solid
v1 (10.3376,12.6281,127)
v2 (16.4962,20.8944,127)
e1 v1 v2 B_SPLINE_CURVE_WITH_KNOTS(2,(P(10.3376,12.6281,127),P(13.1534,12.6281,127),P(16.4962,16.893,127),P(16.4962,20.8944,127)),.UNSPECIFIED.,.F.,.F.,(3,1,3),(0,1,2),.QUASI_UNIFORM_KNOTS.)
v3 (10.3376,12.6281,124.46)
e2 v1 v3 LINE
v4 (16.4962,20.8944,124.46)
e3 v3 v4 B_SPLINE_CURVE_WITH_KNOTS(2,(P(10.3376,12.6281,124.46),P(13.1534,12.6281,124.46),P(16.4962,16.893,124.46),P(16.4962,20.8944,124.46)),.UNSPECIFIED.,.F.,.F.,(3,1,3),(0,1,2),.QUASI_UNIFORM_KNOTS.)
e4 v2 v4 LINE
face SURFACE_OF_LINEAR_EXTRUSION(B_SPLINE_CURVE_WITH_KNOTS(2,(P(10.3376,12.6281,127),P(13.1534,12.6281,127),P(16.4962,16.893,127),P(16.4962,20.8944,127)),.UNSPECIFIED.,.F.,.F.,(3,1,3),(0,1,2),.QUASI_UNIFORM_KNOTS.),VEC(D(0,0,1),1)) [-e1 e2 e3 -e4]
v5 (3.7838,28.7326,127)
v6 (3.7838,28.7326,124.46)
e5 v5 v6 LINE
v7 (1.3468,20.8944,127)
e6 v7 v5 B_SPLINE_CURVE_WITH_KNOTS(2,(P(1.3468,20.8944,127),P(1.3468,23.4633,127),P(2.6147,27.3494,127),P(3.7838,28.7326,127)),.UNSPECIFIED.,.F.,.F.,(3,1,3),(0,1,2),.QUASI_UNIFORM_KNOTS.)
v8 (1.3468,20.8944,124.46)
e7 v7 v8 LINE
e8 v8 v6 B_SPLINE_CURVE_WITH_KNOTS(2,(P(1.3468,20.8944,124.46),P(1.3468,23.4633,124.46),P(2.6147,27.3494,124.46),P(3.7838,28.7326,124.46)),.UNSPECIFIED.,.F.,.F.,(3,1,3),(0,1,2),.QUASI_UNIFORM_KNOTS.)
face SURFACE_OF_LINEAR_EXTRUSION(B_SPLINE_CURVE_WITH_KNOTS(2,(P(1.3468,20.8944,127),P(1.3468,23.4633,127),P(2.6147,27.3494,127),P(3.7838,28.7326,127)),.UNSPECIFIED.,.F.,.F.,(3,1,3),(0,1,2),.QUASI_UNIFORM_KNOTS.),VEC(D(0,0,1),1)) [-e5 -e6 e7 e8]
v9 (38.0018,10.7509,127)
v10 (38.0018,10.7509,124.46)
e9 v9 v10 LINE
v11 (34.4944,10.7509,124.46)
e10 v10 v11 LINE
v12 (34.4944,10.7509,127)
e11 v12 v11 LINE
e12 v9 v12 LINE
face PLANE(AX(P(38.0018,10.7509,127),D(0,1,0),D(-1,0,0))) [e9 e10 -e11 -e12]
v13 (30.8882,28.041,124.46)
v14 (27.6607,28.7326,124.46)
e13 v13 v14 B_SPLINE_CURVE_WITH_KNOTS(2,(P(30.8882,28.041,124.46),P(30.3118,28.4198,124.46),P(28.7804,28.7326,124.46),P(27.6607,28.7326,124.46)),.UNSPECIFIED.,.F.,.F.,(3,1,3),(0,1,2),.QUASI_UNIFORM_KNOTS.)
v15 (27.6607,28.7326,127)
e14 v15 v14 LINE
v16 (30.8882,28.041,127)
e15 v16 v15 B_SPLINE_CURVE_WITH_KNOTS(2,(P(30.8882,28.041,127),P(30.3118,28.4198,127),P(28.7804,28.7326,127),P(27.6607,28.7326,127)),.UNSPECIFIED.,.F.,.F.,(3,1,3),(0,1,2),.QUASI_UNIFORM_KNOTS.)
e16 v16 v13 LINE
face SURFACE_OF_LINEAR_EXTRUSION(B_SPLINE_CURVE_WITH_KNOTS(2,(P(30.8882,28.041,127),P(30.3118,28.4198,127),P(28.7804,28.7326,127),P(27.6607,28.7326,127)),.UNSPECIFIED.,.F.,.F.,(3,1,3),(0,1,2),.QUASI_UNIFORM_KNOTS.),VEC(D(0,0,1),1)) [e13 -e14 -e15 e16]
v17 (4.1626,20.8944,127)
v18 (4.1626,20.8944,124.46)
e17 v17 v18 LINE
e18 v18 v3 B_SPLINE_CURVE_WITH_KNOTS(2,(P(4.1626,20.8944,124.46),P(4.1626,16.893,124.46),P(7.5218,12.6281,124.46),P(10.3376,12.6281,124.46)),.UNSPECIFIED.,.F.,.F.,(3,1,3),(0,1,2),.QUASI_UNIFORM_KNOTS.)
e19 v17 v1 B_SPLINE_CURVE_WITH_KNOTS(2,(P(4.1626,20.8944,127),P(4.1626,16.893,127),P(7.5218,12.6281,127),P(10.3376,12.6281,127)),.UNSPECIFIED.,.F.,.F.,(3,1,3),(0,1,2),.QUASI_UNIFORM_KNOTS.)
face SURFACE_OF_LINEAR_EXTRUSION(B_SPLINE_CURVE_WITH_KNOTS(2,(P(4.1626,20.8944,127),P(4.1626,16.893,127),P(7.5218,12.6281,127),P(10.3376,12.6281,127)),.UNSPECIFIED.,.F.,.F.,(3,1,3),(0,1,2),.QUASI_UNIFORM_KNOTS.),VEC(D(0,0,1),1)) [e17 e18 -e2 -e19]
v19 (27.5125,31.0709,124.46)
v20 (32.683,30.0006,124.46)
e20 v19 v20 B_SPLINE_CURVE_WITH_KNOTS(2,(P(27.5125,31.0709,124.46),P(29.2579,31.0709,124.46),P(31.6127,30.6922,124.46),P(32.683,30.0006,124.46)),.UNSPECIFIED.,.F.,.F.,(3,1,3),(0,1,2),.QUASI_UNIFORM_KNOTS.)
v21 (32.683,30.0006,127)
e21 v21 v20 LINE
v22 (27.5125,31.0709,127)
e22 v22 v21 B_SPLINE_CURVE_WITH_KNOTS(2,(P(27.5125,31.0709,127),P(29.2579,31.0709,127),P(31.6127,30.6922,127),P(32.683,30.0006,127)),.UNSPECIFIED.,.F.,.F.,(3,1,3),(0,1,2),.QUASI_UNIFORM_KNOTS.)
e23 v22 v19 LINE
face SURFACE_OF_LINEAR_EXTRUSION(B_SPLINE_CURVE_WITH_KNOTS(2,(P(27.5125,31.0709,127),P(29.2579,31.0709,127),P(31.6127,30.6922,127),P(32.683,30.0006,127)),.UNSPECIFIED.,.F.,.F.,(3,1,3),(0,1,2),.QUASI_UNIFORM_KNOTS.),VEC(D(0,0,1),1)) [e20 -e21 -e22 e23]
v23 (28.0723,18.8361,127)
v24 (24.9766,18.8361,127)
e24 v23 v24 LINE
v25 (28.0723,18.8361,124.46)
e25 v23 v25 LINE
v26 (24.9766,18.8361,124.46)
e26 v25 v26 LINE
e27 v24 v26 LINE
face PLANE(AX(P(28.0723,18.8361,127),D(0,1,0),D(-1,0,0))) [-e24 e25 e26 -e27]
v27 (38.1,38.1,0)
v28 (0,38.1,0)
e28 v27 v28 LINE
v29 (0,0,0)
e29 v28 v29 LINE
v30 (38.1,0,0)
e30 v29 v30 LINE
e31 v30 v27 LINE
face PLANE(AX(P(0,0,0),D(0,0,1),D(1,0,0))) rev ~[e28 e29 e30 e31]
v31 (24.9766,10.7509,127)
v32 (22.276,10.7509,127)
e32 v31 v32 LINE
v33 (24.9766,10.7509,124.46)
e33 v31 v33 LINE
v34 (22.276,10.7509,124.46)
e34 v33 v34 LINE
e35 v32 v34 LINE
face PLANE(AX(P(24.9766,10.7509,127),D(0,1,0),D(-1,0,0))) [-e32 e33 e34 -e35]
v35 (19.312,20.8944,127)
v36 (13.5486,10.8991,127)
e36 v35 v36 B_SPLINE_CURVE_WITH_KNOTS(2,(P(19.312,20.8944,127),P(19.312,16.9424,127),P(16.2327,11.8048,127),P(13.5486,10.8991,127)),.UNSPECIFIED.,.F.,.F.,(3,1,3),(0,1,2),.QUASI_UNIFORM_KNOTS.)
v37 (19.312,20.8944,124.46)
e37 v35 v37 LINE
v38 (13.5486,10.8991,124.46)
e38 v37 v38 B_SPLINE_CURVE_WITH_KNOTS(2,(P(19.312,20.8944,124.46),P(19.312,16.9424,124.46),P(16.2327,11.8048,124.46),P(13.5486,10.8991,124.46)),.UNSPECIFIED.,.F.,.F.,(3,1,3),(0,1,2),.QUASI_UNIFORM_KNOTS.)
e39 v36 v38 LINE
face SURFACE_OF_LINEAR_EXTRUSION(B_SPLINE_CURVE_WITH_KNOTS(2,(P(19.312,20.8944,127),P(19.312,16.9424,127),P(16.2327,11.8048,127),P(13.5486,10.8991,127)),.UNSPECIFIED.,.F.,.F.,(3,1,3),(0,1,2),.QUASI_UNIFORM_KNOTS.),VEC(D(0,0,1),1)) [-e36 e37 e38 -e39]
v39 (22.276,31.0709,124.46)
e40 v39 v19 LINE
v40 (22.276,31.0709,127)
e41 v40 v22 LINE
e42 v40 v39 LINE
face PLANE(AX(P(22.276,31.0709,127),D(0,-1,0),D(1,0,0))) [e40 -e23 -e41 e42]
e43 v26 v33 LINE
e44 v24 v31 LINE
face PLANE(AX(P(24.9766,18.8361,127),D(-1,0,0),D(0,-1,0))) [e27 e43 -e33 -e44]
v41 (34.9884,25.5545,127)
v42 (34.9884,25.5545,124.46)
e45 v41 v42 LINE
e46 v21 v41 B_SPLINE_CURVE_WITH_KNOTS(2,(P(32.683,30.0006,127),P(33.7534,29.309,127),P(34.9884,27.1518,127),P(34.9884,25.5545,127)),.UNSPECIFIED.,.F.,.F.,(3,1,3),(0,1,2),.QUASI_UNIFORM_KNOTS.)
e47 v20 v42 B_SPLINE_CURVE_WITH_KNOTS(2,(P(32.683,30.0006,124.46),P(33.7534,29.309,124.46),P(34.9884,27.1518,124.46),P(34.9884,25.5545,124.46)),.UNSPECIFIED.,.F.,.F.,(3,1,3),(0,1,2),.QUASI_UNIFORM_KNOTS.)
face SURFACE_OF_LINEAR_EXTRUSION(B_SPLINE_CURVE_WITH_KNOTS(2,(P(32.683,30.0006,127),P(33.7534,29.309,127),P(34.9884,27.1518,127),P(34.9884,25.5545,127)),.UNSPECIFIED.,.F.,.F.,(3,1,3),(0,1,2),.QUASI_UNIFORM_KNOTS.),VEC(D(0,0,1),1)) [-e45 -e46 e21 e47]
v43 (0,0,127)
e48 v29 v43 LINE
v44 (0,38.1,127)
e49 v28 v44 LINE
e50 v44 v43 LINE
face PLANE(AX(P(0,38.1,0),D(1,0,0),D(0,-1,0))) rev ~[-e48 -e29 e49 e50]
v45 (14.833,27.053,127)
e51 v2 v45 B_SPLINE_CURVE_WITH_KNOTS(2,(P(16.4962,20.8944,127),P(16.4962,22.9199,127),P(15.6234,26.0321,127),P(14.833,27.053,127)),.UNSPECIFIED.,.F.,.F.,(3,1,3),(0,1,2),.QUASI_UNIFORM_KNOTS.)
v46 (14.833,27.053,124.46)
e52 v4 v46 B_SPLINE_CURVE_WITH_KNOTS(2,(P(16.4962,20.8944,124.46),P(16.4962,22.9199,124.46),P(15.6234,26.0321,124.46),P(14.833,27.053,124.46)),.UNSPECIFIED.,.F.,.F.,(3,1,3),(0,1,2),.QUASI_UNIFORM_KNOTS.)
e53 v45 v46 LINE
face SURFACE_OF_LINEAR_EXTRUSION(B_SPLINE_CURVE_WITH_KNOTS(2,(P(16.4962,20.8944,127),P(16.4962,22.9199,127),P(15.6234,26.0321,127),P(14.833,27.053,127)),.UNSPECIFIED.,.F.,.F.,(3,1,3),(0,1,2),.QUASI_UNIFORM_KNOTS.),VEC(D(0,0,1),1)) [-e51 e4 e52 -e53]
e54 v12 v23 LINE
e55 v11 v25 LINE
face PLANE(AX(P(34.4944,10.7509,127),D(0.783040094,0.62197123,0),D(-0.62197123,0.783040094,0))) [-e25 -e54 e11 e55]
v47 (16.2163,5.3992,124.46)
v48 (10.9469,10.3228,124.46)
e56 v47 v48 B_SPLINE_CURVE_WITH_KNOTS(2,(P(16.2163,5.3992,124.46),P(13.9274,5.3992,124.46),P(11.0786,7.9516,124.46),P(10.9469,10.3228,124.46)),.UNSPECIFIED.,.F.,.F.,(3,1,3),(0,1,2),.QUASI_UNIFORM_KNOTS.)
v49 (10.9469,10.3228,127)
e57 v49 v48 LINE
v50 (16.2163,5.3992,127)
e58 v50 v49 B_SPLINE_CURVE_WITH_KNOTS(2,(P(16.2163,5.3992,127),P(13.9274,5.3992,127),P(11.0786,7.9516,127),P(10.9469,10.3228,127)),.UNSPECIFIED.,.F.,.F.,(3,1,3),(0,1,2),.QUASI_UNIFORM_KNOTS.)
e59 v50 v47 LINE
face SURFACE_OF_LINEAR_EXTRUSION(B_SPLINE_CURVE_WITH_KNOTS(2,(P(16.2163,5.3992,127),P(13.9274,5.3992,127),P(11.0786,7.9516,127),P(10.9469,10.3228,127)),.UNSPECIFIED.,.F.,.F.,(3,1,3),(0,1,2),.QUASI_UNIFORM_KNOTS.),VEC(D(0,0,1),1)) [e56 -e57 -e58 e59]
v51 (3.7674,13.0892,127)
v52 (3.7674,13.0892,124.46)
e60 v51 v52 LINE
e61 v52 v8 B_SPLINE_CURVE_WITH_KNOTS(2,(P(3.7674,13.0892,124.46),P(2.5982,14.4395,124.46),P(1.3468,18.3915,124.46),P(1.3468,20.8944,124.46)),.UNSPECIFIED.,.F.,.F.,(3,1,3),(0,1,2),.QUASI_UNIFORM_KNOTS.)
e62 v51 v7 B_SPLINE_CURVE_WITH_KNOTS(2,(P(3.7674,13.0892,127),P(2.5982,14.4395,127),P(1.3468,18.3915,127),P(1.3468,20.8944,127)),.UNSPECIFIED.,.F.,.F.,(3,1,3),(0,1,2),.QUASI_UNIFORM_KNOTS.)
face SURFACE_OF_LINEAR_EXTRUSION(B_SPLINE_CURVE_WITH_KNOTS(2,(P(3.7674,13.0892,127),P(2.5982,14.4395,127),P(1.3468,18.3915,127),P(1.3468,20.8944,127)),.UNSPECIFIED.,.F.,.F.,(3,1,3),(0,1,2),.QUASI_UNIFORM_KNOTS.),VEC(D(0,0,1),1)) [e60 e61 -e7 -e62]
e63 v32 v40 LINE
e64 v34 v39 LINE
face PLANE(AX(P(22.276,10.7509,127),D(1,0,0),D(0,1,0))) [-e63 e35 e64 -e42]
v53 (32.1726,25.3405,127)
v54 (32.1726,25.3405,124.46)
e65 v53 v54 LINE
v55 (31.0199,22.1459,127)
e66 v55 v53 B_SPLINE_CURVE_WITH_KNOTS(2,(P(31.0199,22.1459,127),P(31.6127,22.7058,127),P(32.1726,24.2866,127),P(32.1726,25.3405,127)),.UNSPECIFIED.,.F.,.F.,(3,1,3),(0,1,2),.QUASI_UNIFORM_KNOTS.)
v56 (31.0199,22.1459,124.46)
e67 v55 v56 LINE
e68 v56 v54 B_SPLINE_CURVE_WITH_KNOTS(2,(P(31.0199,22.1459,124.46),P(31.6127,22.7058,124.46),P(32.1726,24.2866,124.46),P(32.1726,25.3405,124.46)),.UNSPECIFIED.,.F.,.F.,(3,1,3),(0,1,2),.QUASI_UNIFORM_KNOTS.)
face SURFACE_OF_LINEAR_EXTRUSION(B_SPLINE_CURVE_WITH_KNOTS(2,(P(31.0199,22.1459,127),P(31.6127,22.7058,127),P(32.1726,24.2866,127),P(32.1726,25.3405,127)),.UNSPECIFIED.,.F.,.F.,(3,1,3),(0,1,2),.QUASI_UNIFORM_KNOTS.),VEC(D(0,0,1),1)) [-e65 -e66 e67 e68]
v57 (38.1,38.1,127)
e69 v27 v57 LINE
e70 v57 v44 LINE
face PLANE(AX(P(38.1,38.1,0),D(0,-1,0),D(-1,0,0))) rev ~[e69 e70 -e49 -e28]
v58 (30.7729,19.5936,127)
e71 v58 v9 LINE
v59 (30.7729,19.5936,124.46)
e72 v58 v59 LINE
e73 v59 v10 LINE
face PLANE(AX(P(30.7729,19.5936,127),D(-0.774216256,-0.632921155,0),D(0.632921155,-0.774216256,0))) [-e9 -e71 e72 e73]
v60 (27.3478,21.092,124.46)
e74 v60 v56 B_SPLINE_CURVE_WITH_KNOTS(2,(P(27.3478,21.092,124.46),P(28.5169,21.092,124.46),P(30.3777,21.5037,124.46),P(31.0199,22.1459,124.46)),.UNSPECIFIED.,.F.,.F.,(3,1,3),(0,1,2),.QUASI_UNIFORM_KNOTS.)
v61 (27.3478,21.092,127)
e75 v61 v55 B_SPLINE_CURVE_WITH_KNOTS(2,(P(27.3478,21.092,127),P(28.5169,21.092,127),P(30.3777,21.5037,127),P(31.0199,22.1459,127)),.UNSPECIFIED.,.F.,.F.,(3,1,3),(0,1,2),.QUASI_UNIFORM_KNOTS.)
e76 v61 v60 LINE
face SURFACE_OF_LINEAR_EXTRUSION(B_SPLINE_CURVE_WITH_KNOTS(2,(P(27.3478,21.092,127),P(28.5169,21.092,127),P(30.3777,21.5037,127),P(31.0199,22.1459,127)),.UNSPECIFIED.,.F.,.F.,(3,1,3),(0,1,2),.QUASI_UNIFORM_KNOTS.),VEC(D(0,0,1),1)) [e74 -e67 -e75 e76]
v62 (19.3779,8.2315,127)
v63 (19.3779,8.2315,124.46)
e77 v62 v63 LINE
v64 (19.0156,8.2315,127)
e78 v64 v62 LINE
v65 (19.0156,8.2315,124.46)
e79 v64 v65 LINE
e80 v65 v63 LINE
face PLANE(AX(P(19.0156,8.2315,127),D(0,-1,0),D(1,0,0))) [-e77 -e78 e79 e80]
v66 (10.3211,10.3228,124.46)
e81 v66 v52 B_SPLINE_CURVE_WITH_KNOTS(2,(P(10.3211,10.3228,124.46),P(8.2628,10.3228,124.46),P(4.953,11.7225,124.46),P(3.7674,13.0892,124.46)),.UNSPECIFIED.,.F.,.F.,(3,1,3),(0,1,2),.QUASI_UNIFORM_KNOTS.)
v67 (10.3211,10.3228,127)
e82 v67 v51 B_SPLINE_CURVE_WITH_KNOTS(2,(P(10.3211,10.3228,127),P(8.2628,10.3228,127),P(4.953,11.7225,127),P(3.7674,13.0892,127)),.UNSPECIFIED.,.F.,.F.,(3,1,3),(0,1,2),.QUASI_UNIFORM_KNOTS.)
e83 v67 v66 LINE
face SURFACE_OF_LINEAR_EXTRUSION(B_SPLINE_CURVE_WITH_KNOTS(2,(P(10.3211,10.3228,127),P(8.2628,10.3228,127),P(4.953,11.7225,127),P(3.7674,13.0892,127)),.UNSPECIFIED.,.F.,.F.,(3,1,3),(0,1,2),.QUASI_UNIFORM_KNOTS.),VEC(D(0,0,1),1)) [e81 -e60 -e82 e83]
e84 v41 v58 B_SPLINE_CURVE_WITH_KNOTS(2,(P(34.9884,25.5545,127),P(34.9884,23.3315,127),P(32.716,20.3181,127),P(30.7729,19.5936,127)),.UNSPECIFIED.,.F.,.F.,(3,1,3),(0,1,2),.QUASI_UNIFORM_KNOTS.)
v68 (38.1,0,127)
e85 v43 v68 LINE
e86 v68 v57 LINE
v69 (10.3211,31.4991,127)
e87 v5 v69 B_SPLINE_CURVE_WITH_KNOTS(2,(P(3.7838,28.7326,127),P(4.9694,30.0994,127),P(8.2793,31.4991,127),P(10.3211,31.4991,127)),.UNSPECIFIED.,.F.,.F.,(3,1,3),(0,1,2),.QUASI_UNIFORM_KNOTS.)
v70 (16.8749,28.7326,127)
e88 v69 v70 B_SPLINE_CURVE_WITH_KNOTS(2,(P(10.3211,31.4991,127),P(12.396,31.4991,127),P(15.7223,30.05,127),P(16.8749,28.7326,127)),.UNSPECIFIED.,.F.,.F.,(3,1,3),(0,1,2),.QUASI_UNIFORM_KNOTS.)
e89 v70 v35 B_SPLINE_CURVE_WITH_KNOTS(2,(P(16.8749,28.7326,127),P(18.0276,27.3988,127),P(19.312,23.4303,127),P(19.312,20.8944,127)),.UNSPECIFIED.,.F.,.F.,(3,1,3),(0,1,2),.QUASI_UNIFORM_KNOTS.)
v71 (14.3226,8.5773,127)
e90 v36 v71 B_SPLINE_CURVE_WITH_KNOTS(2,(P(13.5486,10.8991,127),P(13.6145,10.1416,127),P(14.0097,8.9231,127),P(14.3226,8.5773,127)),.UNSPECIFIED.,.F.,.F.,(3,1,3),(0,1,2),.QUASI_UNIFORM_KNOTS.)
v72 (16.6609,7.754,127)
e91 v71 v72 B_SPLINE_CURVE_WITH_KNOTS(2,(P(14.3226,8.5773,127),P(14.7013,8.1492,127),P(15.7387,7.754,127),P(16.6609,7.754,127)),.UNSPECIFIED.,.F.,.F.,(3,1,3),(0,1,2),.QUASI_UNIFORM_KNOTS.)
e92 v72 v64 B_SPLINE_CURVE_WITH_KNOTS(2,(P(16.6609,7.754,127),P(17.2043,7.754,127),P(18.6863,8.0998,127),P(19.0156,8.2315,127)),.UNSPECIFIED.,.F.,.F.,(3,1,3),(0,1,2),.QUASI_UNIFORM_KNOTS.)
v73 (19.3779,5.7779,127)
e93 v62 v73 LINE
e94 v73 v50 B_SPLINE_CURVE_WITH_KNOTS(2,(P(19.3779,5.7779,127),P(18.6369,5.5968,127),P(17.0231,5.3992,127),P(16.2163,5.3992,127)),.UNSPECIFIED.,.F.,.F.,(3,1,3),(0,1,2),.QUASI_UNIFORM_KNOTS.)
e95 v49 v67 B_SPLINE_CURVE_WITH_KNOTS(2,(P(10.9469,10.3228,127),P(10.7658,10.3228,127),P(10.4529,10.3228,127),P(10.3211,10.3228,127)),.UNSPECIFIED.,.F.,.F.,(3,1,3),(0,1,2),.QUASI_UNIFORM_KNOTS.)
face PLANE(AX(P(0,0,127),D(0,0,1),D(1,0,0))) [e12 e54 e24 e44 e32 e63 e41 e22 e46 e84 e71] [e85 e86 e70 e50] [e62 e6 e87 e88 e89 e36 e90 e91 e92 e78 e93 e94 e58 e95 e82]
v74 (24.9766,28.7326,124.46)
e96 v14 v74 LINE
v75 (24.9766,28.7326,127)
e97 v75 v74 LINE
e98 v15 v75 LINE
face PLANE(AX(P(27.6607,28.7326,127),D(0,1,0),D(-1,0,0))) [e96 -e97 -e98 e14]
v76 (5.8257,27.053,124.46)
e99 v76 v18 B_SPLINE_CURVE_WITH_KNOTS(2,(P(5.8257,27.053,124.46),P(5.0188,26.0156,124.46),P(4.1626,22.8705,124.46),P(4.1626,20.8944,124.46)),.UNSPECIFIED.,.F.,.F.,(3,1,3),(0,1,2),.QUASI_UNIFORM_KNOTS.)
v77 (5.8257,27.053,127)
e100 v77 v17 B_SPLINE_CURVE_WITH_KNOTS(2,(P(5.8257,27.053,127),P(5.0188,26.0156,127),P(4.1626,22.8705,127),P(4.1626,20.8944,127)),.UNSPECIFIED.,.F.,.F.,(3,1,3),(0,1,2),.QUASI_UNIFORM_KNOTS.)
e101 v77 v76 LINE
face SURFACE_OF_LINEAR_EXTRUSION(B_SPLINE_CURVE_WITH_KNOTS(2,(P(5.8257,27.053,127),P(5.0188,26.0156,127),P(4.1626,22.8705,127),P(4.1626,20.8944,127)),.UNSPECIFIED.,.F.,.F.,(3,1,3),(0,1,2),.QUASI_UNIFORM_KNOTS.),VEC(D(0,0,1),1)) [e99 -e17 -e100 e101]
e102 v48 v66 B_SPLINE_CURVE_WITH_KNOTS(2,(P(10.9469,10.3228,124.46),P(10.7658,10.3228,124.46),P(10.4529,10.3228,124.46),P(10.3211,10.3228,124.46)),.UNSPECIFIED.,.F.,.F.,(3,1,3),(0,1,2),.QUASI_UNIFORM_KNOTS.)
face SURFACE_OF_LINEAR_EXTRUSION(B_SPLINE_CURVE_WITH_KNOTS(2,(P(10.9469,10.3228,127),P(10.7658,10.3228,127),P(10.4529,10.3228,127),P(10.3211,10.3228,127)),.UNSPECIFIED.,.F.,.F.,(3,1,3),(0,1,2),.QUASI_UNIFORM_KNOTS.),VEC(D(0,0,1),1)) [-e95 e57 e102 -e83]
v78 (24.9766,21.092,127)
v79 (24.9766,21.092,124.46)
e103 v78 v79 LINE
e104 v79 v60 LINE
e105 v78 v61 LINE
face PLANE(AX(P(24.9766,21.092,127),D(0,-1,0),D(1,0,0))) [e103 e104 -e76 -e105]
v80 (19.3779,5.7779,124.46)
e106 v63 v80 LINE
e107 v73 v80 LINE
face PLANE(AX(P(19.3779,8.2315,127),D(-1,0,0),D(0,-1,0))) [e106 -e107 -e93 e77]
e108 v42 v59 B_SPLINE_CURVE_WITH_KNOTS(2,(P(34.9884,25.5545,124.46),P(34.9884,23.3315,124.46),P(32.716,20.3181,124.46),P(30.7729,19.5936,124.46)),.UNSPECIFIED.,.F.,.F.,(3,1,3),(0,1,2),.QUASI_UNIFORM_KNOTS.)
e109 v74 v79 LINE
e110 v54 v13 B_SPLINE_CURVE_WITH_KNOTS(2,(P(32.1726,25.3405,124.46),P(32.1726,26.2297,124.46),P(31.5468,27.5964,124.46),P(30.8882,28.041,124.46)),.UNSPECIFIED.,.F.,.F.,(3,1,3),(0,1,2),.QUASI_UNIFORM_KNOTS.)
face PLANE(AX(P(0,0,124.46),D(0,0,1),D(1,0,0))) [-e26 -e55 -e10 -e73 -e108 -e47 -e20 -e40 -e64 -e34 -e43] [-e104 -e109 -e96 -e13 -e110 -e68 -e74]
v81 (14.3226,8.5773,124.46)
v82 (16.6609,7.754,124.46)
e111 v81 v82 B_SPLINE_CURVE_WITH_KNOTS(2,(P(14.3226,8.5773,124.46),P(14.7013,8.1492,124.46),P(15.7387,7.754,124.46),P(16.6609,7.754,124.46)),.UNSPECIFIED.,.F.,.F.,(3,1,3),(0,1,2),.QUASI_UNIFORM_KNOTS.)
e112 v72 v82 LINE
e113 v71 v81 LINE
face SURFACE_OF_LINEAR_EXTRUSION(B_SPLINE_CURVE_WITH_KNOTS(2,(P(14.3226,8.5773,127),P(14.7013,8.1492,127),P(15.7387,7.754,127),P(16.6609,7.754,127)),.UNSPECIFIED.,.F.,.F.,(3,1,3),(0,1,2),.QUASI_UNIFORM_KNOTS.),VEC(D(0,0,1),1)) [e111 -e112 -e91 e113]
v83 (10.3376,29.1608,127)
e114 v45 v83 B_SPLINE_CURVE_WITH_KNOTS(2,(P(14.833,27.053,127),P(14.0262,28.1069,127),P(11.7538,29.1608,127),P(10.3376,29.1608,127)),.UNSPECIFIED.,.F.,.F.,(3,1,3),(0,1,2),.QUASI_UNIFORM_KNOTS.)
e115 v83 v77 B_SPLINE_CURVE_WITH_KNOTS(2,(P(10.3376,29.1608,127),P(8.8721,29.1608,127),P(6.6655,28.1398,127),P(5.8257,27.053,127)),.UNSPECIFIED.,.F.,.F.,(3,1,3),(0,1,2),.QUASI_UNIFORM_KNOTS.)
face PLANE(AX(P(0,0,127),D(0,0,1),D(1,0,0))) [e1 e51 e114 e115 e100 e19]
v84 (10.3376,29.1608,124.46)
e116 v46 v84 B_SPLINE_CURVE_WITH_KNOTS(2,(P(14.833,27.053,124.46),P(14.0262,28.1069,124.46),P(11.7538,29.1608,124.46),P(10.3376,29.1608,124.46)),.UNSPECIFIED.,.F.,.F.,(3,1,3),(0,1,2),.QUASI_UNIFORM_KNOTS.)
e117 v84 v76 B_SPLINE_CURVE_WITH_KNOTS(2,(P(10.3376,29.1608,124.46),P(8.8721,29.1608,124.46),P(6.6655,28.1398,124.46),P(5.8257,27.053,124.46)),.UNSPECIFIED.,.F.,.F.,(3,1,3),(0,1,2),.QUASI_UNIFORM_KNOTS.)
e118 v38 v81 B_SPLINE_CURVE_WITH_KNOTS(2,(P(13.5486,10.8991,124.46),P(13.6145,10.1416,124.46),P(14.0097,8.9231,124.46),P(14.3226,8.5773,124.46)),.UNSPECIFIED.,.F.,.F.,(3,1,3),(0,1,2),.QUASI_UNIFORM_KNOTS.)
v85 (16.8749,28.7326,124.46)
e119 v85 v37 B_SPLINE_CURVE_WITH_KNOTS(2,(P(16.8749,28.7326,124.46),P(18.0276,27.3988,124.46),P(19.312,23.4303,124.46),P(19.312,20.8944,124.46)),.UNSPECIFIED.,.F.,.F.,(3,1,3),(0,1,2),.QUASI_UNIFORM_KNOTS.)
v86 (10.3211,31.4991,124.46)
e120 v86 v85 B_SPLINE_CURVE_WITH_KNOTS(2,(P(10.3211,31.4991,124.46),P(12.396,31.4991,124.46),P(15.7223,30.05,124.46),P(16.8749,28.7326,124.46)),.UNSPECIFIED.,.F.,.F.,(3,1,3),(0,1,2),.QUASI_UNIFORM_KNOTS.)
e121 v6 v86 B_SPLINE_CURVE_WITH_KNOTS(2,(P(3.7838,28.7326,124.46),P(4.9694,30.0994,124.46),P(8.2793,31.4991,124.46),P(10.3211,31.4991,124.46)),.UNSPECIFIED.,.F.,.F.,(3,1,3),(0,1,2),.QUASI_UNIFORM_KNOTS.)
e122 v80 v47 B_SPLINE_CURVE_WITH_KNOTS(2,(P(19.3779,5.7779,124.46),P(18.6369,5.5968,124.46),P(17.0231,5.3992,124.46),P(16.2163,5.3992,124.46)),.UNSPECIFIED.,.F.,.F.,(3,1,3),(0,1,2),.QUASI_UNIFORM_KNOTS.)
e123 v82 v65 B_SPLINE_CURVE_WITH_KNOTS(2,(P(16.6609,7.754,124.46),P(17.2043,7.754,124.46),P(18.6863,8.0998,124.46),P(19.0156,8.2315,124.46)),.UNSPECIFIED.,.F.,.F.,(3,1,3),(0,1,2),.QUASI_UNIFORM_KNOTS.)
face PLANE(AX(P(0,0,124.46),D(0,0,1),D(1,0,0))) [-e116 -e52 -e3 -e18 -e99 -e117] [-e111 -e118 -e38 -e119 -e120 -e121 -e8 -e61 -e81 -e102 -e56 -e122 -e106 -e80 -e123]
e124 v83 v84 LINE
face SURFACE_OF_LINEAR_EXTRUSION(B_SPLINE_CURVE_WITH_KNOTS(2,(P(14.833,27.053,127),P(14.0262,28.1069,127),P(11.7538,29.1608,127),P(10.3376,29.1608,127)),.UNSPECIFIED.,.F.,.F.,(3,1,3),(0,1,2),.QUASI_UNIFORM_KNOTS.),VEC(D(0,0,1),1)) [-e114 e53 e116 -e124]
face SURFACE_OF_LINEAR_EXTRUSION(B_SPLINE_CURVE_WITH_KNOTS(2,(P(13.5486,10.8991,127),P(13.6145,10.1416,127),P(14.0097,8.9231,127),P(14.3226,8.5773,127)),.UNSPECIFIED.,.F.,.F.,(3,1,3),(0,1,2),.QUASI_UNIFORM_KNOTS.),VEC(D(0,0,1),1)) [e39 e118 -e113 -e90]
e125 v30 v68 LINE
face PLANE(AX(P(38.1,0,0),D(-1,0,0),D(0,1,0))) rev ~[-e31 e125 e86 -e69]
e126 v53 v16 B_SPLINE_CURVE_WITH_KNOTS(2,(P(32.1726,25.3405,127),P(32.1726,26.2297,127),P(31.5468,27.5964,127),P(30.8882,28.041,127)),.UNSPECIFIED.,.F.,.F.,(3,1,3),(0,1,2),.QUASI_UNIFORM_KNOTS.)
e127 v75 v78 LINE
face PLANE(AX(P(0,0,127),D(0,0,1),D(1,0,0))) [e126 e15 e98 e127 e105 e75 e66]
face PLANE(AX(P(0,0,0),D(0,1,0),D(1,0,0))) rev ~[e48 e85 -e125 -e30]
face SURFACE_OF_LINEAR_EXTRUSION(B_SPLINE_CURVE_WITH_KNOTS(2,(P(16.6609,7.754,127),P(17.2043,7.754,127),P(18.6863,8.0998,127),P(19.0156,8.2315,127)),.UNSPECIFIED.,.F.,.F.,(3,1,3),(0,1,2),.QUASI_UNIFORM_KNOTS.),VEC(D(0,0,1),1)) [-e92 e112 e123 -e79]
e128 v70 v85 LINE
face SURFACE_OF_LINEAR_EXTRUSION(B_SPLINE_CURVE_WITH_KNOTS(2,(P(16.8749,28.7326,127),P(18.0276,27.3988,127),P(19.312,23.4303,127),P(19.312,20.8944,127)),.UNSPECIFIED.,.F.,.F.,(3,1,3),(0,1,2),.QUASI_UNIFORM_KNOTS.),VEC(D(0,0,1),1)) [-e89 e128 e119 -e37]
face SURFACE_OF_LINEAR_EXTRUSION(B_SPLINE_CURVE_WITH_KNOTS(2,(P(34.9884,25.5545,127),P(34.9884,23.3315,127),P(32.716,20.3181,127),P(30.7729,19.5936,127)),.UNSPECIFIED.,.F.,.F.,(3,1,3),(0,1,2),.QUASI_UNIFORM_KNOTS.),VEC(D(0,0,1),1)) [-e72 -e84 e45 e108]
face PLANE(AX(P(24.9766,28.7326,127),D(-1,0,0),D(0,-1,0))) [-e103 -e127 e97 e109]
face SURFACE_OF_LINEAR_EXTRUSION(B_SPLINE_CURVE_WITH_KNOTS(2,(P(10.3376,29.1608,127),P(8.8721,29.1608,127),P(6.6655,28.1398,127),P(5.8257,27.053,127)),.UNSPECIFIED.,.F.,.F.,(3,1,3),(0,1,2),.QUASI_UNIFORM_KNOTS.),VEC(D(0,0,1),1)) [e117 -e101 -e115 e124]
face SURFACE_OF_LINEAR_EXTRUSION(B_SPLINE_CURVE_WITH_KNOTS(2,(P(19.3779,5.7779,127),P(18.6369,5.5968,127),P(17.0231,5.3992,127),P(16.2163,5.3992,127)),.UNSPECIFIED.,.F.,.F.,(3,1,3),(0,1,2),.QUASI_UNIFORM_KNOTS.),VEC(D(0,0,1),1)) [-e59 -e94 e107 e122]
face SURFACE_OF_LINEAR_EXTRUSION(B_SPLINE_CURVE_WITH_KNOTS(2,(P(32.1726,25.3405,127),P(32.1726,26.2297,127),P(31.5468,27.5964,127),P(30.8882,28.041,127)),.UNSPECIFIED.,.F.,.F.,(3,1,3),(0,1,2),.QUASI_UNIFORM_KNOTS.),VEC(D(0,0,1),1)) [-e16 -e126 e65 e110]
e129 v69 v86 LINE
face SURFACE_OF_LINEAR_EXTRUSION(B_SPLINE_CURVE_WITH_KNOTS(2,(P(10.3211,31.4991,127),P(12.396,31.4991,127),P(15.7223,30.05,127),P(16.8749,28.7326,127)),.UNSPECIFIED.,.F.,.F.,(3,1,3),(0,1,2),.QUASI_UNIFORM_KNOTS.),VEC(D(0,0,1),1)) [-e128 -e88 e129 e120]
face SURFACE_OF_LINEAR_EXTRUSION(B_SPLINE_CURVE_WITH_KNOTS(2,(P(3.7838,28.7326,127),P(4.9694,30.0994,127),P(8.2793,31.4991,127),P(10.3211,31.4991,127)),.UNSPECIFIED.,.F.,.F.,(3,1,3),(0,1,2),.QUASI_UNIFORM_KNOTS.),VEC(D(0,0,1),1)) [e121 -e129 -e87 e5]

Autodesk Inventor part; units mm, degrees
ref_plane "YZ Plane" through (0, 0, 0) normal (1, 0, 0) x (0, 1, 0)
ref_plane "XZ Plane" through (0, 0, 0) normal (0, 1, 0) x (-1, 0, 0)
ref_plane "XY Plane" through (0, 0, 0) normal (0, 0, 1) x (1, 0, 0)
sketch "Sketch1" plane through (0, 0, 0) normal (0, 0, 1) x (1, 0, 0)
  line L0 (0, 0) -> (38.1, 0)
  line L1 (38.1, 0) -> (38.1, 38.1)
  line L2 (38.1, 38.1) -> (0, 38.1)
  line L3 (0, 38.1) -> (0, 0)
  dimension "d0" = 38.1
  dimension "d1" = 38.1
extrude "Extrusion1" add sketch "Sketch1" along normal blind 127
sketch "Sketch2" plane through (0, 0, 127) normal (0, 0, 1) x (1, 0, 0)
  line L0 (0.4411, 31.4991) -> (46.8362, 31.4991) construction
  line L1 (46.8362, 31.4991) -> (46.8362, -1.1257) construction
  line L2 (46.8362, -1.1257) -> (0.4411, -1.1257) construction
  line L3 (0.4411, -1.1257) -> (0.4411, 31.4991) construction
  spline S0 degree 2 poles (19.3779, 5.7779) (18.6369, 5.5968) (17.0231, 5.3992) (16.2163, 5.3992) knots 0 0 0 1 2 2 2
  spline S1 degree 2 poles (16.2163, 5.3992) (13.9274, 5.3992) (11.0786, 7.9516) (10.9469, 10.3228) knots 0 0 0 1 2 2 2
  spline S2 degree 2 poles (10.9469, 10.3228) (10.7658, 10.3228) (10.4529, 10.3228) (10.3211, 10.3228) knots 0 0 0 1 2 2 2
  spline S3 degree 2 poles (10.3211, 10.3228) (8.2628, 10.3228) (4.953, 11.7225) (3.7674, 13.0892) knots 0 0 0 1 2 2 2
  spline S4 degree 2 poles (3.7674, 13.0892) (2.5982, 14.4395) (1.3468, 18.3915) (1.3468, 20.8944) knots 0 0 0 1 2 2 2
  spline S5 degree 2 poles (1.3468, 20.8944) (1.3468, 23.4633) (2.6147, 27.3494) (3.7838, 28.7326) knots 0 0 0 1 2 2 2
  spline S6 degree 2 poles (3.7838, 28.7326) (4.9694, 30.0994) (8.2793, 31.4991) (10.3211, 31.4991) knots 0 0 0 1 2 2 2
  spline S7 degree 2 poles (10.3211, 31.4991) (12.396, 31.4991) (15.7223, 30.05) (16.8749, 28.7326) knots 0 0 0 1 2 2 2
  spline S8 degree 2 poles (16.8749, 28.7326) (18.0276, 27.3988) (19.312, 23.4303) (19.312, 20.8944) knots 0 0 0 1 2 2 2
  spline S9 degree 2 poles (19.312, 20.8944) (19.312, 16.9424) (16.2327, 11.8048) (13.5486, 10.8991) knots 0 0 0 1 2 2 2
  spline S10 degree 2 poles (13.5486, 10.8991) (13.6145, 10.1416) (14.0097, 8.9231) (14.3226, 8.5773) knots 0 0 0 1 2 2 2
  spline S11 degree 2 poles (14.3226, 8.5773) (14.7013, 8.1492) (15.7387, 7.754) (16.6609, 7.754) knots 0 0 0 1 2 2 2
  spline S12 degree 2 poles (16.6609, 7.754) (17.2043, 7.754) (18.6863, 8.0998) (19.0156, 8.2315) knots 0 0 0 1 2 2 2
  line L4 (19.0156, 8.2315) -> (19.3779, 8.2315)
  line L5 (19.3779, 8.2315) -> (19.3779, 5.7779)
  spline S13 degree 2 poles (16.4962, 20.8944) (16.4962, 22.9199) (15.6234, 26.0321) (14.833, 27.053) knots 0 0 0 1 2 2 2
  spline S14 degree 2 poles (14.833, 27.053) (14.0262, 28.1069) (11.7538, 29.1608) (10.3376, 29.1608) knots 0 0 0 1 2 2 2
  spline S15 degree 2 poles (10.3376, 29.1608) (8.8721, 29.1608) (6.6655, 28.1398) (5.8257, 27.053) knots 0 0 0 1 2 2 2
  spline S16 degree 2 poles (5.8257, 27.053) (5.0188, 26.0156) (4.1626, 22.8705) (4.1626, 20.8944) knots 0 0 0 1 2 2 2
  spline S17 degree 2 poles (4.1626, 20.8944) (4.1626, 16.893) (7.5218, 12.6281) (10.3376, 12.6281) knots 0 0 0 1 2 2 2
  spline S18 degree 2 poles (10.3376, 12.6281) (13.1534, 12.6281) (16.4962, 16.893) (16.4962, 20.8944) knots 0 0 0 1 2 2 2
  line L6 (38.0018, 10.7509) -> (34.4944, 10.7509)
  line L7 (34.4944, 10.7509) -> (28.0723, 18.8361)
  line L8 (28.0723, 18.8361) -> (24.9766, 18.8361)
  line L9 (24.9766, 18.8361) -> (24.9766, 10.7509)
  line L10 (24.9766, 10.7509) -> (22.276, 10.7509)
  line L11 (22.276, 10.7509) -> (22.276, 31.0709)
  line L12 (22.276, 31.0709) -> (27.5125, 31.0709)
  spline S19 degree 2 poles (27.5125, 31.0709) (29.2579, 31.0709) (31.6127, 30.6922) (32.683, 30.0006) knots 0 0 0 1 2 2 2
  spline S20 degree 2 poles (32.683, 30.0006) (33.7534, 29.309) (34.9884, 27.1518) (34.9884, 25.5545) knots 0 0 0 1 2 2 2
  spline S21 degree 2 poles (34.9884, 25.5545) (34.9884, 23.3315) (32.716, 20.3181) (30.7729, 19.5936) knots 0 0 0 1 2 2 2
  line L13 (30.7729, 19.5936) -> (38.0018, 10.7509)
  spline S22 degree 2 poles (32.1726, 25.3405) (32.1726, 26.2297) (31.5468, 27.5964) (30.8882, 28.041) knots 0 0 0 1 2 2 2
  spline S23 degree 2 poles (30.8882, 28.041) (30.3118, 28.4198) (28.7804, 28.7326) (27.6607, 28.7326) knots 0 0 0 1 2 2 2
  line L14 (27.6607, 28.7326) -> (24.9766, 28.7326)
  line L15 (24.9766, 28.7326) -> (24.9766, 21.092)
  line L16 (24.9766, 21.092) -> (27.3478, 21.092)
  spline S24 degree 2 poles (27.3478, 21.092) (28.5169, 21.092) (30.3777, 21.5037) (31.0199, 22.1459) knots 0 0 0 1 2 2 2
  spline S25 degree 2 poles (31.0199, 22.1459) (31.6127, 22.7058) (32.1726, 24.2866) (32.1726, 25.3405) knots 0 0 0 1 2 2 2
  point P0 (0, 0)
extrude "Extrusion2" cut sketch "Sketch2" against normal blind 2.54
properties part number "Container 2 2 5 QR color 2"
